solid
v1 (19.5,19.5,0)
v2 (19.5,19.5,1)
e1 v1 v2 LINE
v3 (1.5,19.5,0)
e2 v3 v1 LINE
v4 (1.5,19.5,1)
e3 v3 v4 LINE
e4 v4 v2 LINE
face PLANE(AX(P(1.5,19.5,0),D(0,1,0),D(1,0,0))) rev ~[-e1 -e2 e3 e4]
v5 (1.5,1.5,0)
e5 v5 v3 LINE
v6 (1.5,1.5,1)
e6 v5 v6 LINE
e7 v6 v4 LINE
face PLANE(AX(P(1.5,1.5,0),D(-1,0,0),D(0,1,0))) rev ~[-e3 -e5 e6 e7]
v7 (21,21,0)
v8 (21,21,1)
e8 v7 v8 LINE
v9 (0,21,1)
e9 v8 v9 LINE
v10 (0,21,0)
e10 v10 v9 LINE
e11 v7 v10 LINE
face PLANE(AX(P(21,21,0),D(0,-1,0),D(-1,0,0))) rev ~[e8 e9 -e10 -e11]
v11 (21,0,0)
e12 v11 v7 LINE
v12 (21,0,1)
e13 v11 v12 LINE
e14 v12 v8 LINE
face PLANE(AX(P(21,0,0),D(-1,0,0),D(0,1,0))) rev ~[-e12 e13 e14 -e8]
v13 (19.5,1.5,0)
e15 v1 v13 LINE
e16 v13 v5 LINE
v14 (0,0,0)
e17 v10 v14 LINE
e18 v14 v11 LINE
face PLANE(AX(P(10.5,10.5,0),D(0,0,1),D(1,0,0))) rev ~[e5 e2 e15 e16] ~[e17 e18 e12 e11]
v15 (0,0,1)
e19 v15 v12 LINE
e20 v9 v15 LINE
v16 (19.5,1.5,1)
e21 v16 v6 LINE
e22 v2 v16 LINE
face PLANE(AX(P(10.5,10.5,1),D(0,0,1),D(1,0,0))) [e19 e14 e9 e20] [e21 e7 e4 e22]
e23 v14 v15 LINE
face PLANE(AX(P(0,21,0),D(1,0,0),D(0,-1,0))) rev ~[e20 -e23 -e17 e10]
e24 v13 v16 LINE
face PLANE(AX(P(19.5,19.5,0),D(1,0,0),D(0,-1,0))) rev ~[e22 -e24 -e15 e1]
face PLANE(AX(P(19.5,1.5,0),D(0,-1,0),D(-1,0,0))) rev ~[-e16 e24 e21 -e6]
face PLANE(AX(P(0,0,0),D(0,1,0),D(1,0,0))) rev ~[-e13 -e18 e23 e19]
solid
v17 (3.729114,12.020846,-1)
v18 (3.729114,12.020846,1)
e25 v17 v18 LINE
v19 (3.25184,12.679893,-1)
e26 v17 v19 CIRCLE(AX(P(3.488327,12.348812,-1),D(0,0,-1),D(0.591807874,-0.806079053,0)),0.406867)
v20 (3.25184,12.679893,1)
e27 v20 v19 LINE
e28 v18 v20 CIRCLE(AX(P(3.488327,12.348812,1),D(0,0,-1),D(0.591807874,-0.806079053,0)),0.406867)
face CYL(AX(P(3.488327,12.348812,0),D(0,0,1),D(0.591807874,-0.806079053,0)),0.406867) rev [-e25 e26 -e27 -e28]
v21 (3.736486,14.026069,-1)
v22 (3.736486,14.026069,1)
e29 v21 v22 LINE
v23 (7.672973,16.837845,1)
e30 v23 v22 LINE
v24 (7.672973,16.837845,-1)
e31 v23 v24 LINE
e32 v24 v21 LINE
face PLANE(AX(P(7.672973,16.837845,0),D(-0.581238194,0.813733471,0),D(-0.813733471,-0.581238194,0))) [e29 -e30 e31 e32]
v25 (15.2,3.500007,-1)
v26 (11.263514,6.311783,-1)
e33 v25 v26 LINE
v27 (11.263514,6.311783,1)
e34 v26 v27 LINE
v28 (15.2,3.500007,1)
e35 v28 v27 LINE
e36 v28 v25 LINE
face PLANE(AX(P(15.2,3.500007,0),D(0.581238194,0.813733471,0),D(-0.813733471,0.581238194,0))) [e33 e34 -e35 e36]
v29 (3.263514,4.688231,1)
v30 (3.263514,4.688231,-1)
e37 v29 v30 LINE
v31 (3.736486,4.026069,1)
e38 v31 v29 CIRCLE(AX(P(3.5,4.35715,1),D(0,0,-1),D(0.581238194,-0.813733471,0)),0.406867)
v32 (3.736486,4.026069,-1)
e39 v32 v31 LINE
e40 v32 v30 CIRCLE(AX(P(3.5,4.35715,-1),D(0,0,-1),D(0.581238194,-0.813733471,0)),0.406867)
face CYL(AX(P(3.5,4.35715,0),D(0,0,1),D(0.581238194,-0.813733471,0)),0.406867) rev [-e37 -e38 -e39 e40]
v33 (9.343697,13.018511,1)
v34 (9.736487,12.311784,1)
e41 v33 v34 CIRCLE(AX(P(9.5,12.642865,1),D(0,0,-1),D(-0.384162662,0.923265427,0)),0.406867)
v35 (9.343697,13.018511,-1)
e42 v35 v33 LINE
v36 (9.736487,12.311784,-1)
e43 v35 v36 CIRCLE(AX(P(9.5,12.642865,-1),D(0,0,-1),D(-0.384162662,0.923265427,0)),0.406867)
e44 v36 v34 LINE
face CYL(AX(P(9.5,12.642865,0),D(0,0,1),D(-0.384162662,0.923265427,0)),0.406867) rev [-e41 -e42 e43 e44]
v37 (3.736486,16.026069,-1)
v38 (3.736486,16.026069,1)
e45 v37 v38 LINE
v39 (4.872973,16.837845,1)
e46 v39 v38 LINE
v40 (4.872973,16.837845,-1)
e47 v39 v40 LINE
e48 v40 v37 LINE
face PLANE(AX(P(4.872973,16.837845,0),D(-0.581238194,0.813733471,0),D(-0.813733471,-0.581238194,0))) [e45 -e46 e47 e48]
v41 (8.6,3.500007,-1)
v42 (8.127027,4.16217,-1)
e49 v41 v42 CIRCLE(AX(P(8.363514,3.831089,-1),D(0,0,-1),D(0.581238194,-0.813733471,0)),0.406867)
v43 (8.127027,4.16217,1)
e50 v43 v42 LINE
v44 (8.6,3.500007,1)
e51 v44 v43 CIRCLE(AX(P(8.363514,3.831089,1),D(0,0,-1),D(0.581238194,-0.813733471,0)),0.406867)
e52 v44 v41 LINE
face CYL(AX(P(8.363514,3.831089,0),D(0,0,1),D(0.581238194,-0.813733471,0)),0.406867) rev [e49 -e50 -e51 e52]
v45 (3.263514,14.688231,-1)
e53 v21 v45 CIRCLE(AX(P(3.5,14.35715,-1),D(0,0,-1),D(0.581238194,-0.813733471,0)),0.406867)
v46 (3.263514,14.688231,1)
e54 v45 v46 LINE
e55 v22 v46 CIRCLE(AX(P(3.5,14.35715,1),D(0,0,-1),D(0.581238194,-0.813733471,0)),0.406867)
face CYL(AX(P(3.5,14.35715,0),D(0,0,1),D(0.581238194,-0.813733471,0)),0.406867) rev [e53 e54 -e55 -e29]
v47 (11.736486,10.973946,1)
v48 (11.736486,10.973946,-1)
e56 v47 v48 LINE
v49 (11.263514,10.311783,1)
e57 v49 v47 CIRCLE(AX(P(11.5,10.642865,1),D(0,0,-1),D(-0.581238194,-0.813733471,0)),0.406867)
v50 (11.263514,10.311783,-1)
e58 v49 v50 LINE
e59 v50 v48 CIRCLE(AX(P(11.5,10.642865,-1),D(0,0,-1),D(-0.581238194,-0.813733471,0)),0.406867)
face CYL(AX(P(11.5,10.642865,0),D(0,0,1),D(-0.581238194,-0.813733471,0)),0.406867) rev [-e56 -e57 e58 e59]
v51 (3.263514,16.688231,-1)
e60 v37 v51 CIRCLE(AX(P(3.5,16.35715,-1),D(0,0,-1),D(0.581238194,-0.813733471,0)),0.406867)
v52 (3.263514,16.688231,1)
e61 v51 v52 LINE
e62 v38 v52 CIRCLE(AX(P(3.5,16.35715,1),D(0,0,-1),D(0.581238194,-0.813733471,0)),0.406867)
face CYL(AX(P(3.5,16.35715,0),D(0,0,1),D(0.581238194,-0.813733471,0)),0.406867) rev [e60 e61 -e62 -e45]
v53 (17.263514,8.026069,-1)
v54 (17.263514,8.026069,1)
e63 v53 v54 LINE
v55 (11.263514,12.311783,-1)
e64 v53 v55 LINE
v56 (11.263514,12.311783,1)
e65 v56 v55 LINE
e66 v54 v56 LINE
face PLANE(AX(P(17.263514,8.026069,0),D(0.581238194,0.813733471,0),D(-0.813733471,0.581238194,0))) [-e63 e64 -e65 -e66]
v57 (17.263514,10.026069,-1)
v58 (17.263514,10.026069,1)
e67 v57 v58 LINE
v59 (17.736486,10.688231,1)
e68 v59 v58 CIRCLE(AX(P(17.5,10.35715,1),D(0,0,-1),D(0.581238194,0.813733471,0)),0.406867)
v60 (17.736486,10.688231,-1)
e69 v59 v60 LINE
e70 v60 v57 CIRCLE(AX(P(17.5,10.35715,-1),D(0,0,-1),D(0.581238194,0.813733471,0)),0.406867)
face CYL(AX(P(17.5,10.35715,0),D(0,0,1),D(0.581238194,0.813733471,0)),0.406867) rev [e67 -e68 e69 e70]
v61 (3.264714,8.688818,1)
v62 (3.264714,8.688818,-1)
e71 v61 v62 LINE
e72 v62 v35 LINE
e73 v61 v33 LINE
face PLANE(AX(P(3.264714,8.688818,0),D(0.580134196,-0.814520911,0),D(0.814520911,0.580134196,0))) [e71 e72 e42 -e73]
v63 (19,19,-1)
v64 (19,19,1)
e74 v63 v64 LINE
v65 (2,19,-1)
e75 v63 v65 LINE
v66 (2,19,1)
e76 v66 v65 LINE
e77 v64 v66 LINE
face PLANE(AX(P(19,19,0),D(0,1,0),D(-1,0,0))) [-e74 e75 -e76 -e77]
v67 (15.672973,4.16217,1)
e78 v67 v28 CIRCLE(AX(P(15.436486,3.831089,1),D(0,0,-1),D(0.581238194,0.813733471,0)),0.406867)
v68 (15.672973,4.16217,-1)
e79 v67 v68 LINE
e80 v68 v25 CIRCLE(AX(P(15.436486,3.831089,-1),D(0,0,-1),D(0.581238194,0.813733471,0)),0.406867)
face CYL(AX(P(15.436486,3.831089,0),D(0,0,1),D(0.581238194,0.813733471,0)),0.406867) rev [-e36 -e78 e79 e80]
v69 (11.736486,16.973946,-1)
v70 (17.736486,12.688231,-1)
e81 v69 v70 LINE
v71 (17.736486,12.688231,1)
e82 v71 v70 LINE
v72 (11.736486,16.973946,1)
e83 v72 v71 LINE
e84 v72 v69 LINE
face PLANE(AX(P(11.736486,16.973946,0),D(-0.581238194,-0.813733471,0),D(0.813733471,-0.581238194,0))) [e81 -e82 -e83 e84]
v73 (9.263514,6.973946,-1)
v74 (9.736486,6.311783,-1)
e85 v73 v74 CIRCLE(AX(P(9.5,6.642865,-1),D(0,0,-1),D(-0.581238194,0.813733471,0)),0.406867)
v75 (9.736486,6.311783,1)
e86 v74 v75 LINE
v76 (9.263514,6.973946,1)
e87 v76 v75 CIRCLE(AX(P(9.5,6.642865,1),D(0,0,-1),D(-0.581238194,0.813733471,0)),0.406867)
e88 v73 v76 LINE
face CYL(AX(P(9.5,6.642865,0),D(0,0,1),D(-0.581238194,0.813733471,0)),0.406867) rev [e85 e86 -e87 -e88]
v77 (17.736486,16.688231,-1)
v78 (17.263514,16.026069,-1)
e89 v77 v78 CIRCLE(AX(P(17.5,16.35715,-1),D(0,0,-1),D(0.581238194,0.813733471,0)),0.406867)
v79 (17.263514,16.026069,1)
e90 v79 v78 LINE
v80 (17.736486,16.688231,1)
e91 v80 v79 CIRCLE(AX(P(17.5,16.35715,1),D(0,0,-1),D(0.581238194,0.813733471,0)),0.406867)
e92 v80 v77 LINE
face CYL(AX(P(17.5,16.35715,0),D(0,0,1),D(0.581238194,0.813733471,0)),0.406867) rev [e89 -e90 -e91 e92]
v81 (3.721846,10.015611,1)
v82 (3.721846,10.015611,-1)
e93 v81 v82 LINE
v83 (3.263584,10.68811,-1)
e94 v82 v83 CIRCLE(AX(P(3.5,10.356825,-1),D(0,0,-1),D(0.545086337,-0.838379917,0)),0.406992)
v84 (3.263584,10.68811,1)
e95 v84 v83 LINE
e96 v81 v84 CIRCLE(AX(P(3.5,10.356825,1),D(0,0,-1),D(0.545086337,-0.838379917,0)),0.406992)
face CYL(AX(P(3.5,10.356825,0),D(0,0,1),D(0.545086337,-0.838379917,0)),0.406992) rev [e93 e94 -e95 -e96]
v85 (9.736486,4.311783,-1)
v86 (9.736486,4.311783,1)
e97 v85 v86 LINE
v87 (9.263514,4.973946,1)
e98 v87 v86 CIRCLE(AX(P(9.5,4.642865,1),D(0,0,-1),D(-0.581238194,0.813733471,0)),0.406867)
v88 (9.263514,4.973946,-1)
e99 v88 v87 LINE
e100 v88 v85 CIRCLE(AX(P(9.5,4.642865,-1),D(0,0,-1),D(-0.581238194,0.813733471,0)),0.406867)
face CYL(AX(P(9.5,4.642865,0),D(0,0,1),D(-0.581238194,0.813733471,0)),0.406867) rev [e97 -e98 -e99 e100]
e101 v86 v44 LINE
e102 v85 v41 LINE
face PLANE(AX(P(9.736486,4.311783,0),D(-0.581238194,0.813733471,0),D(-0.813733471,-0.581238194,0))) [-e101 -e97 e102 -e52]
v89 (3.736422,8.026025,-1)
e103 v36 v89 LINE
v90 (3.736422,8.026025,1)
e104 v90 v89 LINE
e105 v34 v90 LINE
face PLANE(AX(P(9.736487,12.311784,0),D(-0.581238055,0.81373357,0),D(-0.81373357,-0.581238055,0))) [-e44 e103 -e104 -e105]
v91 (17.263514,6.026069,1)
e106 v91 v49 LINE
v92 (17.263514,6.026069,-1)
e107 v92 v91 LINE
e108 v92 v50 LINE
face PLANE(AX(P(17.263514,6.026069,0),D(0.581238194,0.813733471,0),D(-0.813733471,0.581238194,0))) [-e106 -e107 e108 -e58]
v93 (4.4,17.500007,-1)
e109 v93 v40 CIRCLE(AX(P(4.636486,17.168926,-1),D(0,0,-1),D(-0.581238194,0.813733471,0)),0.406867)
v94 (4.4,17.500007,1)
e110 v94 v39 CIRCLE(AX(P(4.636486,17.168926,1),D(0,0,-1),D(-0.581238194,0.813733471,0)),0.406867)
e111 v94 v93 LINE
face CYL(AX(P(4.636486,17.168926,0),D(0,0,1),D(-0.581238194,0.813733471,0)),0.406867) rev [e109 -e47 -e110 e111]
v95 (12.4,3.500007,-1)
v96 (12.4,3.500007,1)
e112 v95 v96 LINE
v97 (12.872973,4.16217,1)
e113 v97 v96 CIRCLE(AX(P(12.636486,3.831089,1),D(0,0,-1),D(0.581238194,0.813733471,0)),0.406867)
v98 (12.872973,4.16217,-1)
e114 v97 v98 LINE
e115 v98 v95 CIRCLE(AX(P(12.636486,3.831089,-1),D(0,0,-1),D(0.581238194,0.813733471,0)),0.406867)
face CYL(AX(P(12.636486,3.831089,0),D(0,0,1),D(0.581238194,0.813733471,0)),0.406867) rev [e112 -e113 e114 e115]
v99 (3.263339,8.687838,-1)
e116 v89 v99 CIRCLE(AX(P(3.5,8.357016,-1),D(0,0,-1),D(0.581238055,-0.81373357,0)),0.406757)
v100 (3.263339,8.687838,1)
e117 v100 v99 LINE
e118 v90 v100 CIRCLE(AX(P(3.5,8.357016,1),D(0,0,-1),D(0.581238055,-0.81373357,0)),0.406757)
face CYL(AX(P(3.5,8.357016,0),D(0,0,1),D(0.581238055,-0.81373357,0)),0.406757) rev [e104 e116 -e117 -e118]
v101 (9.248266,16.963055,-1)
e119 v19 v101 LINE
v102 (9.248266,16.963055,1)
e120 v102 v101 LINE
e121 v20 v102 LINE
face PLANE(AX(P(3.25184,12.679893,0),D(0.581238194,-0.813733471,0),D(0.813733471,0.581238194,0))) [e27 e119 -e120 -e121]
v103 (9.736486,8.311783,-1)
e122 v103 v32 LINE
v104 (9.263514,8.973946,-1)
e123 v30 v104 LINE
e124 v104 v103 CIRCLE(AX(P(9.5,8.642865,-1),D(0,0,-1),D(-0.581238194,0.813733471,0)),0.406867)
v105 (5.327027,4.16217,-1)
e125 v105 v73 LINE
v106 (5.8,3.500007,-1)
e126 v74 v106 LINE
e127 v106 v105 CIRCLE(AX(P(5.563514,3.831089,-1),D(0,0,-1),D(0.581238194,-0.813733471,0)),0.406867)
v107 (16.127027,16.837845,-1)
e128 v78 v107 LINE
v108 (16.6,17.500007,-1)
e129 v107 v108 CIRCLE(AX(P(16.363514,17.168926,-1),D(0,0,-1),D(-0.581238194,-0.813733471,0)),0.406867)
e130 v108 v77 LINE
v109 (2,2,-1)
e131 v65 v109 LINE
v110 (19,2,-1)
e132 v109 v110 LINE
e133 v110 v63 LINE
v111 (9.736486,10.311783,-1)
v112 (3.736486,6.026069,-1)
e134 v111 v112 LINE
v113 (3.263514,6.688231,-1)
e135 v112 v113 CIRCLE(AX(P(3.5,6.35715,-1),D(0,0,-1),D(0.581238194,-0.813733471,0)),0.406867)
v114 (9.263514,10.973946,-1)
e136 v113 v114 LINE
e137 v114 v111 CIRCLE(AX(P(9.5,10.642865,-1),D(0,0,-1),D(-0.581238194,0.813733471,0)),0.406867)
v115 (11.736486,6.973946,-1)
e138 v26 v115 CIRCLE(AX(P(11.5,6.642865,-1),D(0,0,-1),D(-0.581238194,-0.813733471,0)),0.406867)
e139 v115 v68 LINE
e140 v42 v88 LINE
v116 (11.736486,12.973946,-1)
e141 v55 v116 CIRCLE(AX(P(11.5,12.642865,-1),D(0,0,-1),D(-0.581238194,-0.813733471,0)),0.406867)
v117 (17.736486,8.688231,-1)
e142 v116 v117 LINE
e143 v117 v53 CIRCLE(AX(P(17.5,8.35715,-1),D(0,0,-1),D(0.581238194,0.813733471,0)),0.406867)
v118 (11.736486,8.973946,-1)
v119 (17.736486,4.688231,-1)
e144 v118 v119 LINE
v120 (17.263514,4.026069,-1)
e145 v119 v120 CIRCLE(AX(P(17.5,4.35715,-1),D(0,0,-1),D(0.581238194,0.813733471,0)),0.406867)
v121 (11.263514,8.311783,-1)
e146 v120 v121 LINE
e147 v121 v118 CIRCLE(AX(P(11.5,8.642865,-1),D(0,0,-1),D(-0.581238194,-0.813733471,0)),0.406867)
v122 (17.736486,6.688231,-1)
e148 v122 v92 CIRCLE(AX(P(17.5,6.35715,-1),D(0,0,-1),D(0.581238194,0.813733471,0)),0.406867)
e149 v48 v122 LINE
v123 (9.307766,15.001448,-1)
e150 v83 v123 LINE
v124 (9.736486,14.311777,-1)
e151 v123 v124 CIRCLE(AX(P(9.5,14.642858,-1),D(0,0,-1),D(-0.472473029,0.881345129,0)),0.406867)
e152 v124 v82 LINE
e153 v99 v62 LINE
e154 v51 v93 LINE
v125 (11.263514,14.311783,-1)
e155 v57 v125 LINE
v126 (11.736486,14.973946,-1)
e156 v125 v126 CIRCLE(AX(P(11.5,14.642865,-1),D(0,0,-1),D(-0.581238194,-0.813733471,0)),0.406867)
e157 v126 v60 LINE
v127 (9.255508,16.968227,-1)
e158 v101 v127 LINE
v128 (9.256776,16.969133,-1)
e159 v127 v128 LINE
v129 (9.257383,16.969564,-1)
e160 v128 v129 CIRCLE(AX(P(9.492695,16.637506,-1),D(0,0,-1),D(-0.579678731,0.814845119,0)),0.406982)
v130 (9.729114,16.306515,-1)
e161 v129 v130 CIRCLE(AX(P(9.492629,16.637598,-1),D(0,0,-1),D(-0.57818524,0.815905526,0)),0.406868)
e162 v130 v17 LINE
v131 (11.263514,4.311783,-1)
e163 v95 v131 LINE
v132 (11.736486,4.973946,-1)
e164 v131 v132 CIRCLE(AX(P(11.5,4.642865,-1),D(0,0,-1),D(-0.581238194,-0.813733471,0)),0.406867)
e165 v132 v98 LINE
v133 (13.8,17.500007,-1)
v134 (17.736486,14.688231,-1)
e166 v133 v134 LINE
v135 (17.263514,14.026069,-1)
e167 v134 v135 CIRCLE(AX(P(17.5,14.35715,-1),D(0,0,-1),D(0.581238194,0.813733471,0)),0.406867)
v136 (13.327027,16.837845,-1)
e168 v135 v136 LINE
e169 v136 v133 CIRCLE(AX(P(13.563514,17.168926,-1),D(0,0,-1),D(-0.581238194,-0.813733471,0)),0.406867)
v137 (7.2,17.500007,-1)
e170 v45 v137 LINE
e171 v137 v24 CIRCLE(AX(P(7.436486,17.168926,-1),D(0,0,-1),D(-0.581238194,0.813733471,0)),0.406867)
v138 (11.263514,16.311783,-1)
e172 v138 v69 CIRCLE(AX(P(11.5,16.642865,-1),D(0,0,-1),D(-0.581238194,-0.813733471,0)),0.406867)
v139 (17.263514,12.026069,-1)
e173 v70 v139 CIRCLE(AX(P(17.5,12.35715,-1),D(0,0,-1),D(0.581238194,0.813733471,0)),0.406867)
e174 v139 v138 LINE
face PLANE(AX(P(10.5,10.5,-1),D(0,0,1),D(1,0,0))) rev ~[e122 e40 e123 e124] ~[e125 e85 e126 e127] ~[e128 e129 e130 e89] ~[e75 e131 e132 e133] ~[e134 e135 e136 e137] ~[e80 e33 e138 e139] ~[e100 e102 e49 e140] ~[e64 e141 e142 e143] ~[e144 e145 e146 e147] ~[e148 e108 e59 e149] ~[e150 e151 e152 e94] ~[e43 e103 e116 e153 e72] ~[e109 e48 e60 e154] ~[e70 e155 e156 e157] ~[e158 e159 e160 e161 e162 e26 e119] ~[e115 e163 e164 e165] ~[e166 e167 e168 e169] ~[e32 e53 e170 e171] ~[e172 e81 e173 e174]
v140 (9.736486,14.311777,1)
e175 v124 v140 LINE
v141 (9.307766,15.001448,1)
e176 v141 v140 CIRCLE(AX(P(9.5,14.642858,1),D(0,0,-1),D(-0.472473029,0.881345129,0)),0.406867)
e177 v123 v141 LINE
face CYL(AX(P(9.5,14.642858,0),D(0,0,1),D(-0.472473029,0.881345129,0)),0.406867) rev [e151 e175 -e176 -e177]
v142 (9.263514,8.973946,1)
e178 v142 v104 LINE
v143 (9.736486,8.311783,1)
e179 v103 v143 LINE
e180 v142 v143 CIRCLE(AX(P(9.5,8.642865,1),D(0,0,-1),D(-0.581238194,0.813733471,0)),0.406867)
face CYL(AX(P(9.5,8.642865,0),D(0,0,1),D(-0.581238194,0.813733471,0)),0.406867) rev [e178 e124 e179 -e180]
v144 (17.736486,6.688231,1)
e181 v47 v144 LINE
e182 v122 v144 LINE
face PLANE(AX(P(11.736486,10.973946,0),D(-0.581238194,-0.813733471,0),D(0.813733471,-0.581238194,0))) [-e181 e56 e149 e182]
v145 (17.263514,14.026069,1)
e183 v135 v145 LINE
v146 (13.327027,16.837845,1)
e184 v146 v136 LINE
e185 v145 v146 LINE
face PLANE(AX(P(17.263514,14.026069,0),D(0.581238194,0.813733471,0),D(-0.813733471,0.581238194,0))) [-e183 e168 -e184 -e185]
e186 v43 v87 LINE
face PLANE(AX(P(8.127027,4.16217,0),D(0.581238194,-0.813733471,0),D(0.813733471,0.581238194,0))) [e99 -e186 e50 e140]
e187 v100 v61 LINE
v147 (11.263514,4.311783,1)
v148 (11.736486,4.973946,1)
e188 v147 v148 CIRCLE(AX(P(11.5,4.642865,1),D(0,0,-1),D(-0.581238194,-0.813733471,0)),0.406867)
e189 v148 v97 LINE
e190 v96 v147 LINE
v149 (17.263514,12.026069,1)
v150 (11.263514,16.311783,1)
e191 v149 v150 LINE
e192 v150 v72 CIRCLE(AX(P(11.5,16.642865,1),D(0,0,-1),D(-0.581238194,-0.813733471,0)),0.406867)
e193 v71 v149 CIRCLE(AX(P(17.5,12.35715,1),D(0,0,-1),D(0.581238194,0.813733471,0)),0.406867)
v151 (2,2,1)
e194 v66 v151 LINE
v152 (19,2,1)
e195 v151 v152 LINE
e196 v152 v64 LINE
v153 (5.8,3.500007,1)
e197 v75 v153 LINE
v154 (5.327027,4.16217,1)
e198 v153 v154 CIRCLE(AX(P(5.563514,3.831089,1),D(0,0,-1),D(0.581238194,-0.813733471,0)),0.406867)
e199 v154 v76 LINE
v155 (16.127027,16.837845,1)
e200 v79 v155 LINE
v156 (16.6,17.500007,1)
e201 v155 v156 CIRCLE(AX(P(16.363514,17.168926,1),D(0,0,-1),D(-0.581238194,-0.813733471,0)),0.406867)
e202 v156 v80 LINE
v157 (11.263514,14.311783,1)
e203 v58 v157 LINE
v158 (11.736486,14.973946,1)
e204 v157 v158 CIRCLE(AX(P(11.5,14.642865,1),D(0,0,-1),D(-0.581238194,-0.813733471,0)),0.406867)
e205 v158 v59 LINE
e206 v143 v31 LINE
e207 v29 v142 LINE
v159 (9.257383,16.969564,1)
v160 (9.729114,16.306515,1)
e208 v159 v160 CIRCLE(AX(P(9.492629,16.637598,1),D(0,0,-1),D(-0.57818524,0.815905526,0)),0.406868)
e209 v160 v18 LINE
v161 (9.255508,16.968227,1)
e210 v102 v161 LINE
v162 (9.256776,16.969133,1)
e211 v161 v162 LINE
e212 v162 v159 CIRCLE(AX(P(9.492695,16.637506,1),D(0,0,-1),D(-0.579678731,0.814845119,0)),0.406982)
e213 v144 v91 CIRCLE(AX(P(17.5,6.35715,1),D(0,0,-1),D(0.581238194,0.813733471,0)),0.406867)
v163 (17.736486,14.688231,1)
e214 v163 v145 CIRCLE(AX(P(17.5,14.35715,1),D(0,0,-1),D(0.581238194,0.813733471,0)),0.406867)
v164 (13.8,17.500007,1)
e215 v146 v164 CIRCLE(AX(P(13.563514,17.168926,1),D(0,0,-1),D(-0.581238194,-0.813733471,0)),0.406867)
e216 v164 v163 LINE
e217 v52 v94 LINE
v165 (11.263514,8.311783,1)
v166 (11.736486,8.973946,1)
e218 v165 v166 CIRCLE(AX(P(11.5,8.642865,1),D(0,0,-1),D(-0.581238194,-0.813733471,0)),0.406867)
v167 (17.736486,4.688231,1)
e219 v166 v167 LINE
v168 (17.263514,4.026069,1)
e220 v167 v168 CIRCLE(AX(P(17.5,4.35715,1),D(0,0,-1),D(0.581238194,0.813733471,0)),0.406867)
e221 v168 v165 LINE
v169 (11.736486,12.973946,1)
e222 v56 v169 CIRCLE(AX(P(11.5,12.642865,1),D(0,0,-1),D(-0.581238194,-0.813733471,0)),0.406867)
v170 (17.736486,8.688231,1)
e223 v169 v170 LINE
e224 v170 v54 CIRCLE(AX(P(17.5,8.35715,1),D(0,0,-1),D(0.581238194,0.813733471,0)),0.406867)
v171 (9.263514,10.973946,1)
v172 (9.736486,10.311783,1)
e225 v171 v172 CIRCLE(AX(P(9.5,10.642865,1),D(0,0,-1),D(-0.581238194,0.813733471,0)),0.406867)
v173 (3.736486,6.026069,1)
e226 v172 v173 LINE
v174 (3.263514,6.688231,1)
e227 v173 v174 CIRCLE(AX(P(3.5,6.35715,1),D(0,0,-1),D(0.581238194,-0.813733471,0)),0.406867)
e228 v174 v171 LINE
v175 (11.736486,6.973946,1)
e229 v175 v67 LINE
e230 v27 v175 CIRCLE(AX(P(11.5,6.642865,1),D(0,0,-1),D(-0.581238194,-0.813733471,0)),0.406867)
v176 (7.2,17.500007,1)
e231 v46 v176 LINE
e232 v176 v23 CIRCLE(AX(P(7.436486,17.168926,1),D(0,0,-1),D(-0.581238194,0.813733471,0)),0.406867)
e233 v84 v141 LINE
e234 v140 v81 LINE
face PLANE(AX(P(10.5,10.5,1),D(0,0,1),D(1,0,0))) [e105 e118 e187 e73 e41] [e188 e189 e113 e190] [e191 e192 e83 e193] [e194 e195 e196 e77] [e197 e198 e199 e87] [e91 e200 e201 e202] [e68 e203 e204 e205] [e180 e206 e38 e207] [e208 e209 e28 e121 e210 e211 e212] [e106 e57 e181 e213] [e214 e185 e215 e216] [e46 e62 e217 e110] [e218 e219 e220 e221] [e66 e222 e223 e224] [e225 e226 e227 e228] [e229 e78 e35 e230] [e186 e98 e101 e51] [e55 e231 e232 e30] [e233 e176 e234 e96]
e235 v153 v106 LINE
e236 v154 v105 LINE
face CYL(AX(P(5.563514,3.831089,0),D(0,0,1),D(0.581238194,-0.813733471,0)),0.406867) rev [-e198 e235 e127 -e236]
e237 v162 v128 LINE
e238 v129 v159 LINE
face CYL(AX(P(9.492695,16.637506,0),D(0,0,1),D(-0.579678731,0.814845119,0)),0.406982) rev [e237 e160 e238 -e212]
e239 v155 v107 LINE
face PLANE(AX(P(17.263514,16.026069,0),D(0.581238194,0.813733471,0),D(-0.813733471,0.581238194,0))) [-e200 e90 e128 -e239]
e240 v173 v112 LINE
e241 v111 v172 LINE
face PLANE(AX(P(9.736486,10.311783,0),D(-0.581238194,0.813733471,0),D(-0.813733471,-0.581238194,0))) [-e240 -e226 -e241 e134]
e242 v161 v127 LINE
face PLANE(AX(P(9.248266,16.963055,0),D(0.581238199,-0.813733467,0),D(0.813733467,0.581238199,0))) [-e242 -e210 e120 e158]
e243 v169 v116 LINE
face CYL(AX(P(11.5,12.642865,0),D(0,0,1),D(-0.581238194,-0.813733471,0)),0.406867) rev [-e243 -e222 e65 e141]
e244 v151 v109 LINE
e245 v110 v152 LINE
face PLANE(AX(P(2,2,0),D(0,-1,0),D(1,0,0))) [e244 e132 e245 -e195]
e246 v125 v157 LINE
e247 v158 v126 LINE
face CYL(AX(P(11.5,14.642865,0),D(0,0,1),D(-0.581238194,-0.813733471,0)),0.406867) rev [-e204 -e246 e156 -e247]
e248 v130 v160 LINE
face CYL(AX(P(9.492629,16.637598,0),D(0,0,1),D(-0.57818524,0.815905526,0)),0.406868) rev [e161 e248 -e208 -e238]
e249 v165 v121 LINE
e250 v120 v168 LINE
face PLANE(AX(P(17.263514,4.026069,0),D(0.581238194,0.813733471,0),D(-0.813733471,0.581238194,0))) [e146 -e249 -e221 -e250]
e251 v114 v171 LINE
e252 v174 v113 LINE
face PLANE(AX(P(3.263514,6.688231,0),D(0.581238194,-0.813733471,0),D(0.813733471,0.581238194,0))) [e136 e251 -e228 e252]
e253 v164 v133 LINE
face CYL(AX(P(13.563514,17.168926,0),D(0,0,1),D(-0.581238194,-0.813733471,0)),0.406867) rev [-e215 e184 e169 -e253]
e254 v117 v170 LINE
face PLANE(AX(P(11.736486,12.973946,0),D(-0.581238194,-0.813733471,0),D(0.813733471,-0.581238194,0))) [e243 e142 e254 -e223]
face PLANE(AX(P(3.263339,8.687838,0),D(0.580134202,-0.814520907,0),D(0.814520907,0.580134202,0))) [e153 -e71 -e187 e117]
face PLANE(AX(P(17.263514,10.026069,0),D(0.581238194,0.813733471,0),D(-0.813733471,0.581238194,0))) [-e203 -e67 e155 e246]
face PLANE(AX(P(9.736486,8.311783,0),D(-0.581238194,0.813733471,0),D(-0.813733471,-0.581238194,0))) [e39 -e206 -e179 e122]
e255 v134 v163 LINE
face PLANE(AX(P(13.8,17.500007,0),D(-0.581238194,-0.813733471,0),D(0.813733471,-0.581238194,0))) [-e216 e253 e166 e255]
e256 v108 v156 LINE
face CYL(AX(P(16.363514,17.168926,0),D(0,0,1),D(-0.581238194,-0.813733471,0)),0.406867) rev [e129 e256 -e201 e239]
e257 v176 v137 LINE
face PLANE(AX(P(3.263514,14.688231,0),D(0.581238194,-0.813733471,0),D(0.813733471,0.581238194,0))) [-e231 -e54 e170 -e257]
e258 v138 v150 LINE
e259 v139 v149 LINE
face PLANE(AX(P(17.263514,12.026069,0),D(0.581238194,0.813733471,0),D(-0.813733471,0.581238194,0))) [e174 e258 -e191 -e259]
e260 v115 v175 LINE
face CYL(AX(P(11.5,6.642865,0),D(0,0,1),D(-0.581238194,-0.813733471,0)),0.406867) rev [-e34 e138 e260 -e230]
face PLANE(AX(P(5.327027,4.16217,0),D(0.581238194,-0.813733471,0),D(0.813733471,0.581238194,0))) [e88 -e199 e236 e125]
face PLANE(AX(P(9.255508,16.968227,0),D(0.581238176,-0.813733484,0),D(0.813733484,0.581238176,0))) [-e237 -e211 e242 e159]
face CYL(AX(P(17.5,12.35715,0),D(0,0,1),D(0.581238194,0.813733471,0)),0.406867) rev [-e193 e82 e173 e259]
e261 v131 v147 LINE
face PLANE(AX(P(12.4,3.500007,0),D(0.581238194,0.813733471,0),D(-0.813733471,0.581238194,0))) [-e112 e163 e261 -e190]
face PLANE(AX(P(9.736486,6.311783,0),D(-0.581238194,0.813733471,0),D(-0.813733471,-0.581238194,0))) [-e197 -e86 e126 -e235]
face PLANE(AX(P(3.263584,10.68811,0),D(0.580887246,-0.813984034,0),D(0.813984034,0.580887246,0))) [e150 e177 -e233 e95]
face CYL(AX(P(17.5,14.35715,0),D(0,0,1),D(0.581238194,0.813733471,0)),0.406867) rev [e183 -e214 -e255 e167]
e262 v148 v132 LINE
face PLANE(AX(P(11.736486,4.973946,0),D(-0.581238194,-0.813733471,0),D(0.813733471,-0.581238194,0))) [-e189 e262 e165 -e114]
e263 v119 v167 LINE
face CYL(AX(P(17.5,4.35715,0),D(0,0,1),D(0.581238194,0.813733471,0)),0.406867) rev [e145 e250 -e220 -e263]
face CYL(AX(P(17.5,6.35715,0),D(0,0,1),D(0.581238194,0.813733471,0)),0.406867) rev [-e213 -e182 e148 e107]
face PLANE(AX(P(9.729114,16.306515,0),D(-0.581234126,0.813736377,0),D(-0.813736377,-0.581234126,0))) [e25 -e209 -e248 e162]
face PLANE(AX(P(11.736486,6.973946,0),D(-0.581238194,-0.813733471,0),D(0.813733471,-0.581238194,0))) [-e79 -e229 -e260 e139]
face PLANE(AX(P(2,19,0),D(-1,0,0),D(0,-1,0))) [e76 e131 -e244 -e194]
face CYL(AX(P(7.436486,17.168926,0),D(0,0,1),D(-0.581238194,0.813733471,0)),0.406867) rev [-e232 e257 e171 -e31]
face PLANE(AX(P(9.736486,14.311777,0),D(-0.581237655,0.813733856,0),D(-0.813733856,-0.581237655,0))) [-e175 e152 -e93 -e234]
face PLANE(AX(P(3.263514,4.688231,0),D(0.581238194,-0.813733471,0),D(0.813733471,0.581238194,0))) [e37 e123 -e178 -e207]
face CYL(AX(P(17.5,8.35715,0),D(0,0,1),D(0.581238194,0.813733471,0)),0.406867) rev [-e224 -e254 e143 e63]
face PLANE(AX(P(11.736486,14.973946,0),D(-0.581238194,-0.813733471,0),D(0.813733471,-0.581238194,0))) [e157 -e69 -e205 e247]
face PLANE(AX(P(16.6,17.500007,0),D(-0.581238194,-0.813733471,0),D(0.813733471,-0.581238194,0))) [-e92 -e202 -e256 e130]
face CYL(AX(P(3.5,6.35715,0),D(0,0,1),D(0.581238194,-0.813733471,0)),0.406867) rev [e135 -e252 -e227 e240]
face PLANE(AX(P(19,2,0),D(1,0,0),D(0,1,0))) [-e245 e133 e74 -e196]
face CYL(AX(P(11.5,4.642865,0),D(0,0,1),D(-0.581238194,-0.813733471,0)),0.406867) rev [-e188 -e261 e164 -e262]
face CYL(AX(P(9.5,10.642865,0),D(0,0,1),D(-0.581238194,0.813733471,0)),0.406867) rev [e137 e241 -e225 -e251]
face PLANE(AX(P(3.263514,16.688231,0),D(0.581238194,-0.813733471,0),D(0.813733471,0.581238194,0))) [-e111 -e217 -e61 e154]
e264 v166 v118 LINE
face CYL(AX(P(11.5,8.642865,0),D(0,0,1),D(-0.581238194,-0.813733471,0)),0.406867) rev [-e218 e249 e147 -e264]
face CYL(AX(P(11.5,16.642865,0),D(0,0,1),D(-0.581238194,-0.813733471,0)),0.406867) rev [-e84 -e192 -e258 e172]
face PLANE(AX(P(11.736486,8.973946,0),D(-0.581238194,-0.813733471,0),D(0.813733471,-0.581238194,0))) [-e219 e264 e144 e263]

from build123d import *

# Parameters (mm, degrees)
F1_DEPTH = 1
F2_DEPTH = 1


with BuildPart() as f1:
    # F0 (on Top) → F1 (new body)
    with BuildSketch(Plane.XY):
        Polygon((2, 3.5), (2, 2), (3, 2), (3.5, 2), (11, 2), (11.5, 2), (17.5, 2), (19, 2), (19, 19), (2, 19), align=None)
        with BuildLine():
            ThreePointArc((9.2635135135, 6.9739456513), (9.8310810811, 6.8793510567), (9.7364864865, 6.3117834892))
            Line((9.7364864865, 6.3117834892), (5.8, 3.5000074274))
            ThreePointArc((5.8, 3.5000074274), (5.2324324324, 3.594602022), (5.327027027, 4.1621695896))
            Line((5.327027027, 4.1621695896), (9.2635135135, 6.9739456513))
        make_face(mode=Mode.SUBTRACT)
        with BuildLine():
            ThreePointArc((9.2635135135, 4.9739456513), (9.8310810811, 4.8793510567), (9.7364864865, 4.3117834892))
            Line((9.7364864865, 4.3117834892), (8.6, 3.5000074274))
            ThreePointArc((8.6, 3.5000074274), (8.0324324324, 3.594602022), (8.127027027, 4.1621695896))
            Line((8.127027027, 4.1621695896), (9.2635135135, 4.9739456513))
        make_face(mode=Mode.SUBTRACT)
        with BuildLine():
            Line((9.7364864865, 8.3117834892), (3.7364864865, 4.0260692035))
            ThreePointArc((3.7364864865, 4.0260692035), (3.1689189189, 4.1206637981), (3.2635135135, 4.6882313656))
            Line((3.2635135135, 4.6882313656), (9.2635135135, 8.9739456513))
            ThreePointArc((9.2635135135, 8.9739456513), (9.8310810811, 8.8793510567), (9.7364864865, 8.3117834892))
        make_face(mode=Mode.SUBTRACT)
        with BuildLine():
            ThreePointArc((9.2635135135, 10.9739456513), (9.8310810811, 10.8793510567), (9.7364864865, 10.3117834892))
            Line((9.7364864865, 10.3117834892), (3.7364864865, 6.0260692035))
            ThreePointArc((3.7364864865, 6.0260692035), (3.1689189189, 6.1206637981), (3.2635135135, 6.6882313656))
            Line((3.2635135135, 6.6882313656), (9.2635135135, 10.9739456513))
        make_face(mode=Mode.SUBTRACT)
        with BuildLine():
            ThreePointArc((9.3436971033, 13.0185108947), (9.8556308423, 12.8405196013), (9.7364866156, 12.3117836493))
            Line((9.7364866156, 12.3117836493), (3.7364220661, 8.0260248025))
            ThreePointArc((3.7364220661, 8.0260248025), (3.169093087, 8.1204746996), (3.263338585, 8.6878376696))
            Line((3.263338585, 8.6878376696), (3.2647144726, 8.6888176315))
            Line((3.2647144726, 8.6888176315), (9.3436971033, 13.0185108947))
        make_face(mode=Mode.SUBTRACT)
        with BuildLine():
            Line((12.4, 3.5000074274), (11.2635135135, 4.3117834892))
            ThreePointArc((11.2635135135, 4.3117834892), (11.1689189189, 4.8793510567), (11.7364864865, 4.9739456513))
            Line((11.7364864865, 4.9739456513), (12.872972973, 4.1621695896))
            ThreePointArc((12.872972973, 4.1621695896), (12.9675675676, 3.594602022), (12.4, 3.5000074274))
        make_face(mode=Mode.SUBTRACT)
        with BuildLine():
            ThreePointArc((11.2635135135, 6.3117834892), (11.1689189189, 6.8793510567), (11.7364864865, 6.9739456513))
            Line((11.7364864865, 6.9739456513), (15.672972973, 4.1621695896))
            ThreePointArc((15.672972973, 4.1621695896), (15.7675675676, 3.594602022), (15.2, 3.5000074274))
            Line((15.2, 3.5000074274), (11.2635135135, 6.3117834892))
        make_face(mode=Mode.SUBTRACT)
        with BuildLine():
            ThreePointArc((17.7364864865, 4.6882313656), (17.8310810811, 4.1206637981), (17.2635135135, 4.0260692035))
            Line((17.2635135135, 4.0260692035), (11.2635135135, 8.3117834892))
            ThreePointArc((11.2635135135, 8.3117834892), (11.1689189189, 8.8793510567), (11.7364864865, 8.9739456513))
            Line((11.7364864865, 8.9739456513), (17.7364864865, 4.6882313656))
        make_face(mode=Mode.SUBTRACT)
        with BuildLine():
            ThreePointArc((17.7364864865, 6.6882313656), (17.8310810811, 6.1206637981), (17.2635135135, 6.0260692035))
            Line((17.2635135135, 6.0260692035), (11.2635135135, 10.3117834892))
            ThreePointArc((11.2635135135, 10.3117834892), (11.1689189189, 10.8793510567), (11.7364864865, 10.9739456513))
            Line((11.7364864865, 10.9739456513), (17.7364864865, 6.6882313656))
        make_face(mode=Mode.SUBTRACT)
        with BuildLine():
            ThreePointArc((9.3077662905, 15.0014482863), (9.845544905, 14.8576589276), (9.7364863481, 14.3117766609))
            Line((9.7364863481, 14.3117766609), (3.7218457879, 10.0156108405))
            ThreePointArc((3.7218457879, 10.0156108405), (3.1636716169, 10.127639869), (3.2635835281, 10.6881097775))
            Line((3.2635835281, 10.6881097775), (9.3077662905, 15.0014482863))
        make_face(mode=Mode.SUBTRACT)
        with BuildLine():
            ThreePointArc((9.2573834813, 16.9695644641), (9.8241540054, 16.8734642955), (9.7291143701, 16.3065149706))
            Line((9.7291143701, 16.3065149706), (3.7291139187, 12.0208456607))
            ThreePointArc((3.7291139187, 12.0208456607), (3.1587960485, 12.1101706211), (3.2518404943, 12.6798934948))
            Line((3.2518404943, 12.6798934948), (9.2482660176, 16.9630545828))
            Line((9.2482660176, 16.9630545828), (9.2555077667, 16.9682272608))
            Line((9.2555077667, 16.9682272608), (9.2567757637, 16.9691329729))
            ThreePointArc((9.2567757637, 16.9691329729), (9.2570795237, 16.9693488576), (9.2573834813, 16.9695644641))
        make_face(mode=Mode.SUBTRACT)
        with BuildLine():
            ThreePointArc((3.7364864865, 16.0260692035), (3.1689189189, 16.1206637981), (3.2635135135, 16.6882313656))
            Line((3.2635135135, 16.6882313656), (4.4, 17.5000074274))
            ThreePointArc((4.4, 17.5000074274), (4.9675675676, 17.4054128328), (4.872972973, 16.8378452652))
            Line((4.872972973, 16.8378452652), (3.7364864865, 16.0260692035))
        make_face(mode=Mode.SUBTRACT)
        with BuildLine():
            ThreePointArc((3.7364864865, 14.0260692035), (3.1689189189, 14.1206637981), (3.2635135135, 14.6882313656))
            Line((3.2635135135, 14.6882313656), (7.2, 17.5000074274))
            ThreePointArc((7.2, 17.5000074274), (7.7675675676, 17.4054128328), (7.672972973, 16.8378452652))
            Line((7.672972973, 16.8378452652), (3.7364864865, 14.0260692035))
        make_face(mode=Mode.SUBTRACT)
        with BuildLine():
            ThreePointArc((17.7364864865, 8.6882313656), (17.8310810811, 8.1206637981), (17.2635135135, 8.0260692035))
            Line((17.2635135135, 8.0260692035), (11.2635135135, 12.3117834892))
            ThreePointArc((11.2635135135, 12.3117834892), (11.1689189189, 12.8793510567), (11.7364864865, 12.9739456513))
            Line((11.7364864865, 12.9739456513), (17.7364864865, 8.6882313656))
        make_face(mode=Mode.SUBTRACT)
        with BuildLine():
            Line((17.2635135135, 10.0260692035), (11.2635135135, 14.3117834892))
            ThreePointArc((11.2635135135, 14.3117834892), (11.1689189189, 14.8793510567), (11.7364864865, 14.9739456513))
            Line((11.7364864865, 14.9739456513), (17.7364864865, 10.6882313656))
            ThreePointArc((17.7364864865, 10.6882313656), (17.8310810811, 10.1206637981), (17.2635135135, 10.0260692035))
        make_face(mode=Mode.SUBTRACT)
        with BuildLine():
            Line((17.2635135135, 12.0260692035), (11.2635135135, 16.3117834892))
            ThreePointArc((11.2635135135, 16.3117834892), (11.1689189189, 16.8793510567), (11.7364864865, 16.9739456513))
            Line((11.7364864865, 16.9739456513), (17.7364864865, 12.6882313656))
            ThreePointArc((17.7364864865, 12.6882313656), (17.8310810811, 12.1206637981), (17.2635135135, 12.0260692035))
        make_face(mode=Mode.SUBTRACT)
        with BuildLine():
            ThreePointArc((17.7364864865, 14.6882313656), (17.8310810811, 14.1206637981), (17.2635135135, 14.0260692035))
            Line((17.2635135135, 14.0260692035), (13.327027027, 16.8378452652))
            ThreePointArc((13.327027027, 16.8378452652), (13.2324324324, 17.4054128328), (13.8, 17.5000074274))
            Line((13.8, 17.5000074274), (17.7364864865, 14.6882313656))
        make_face(mode=Mode.SUBTRACT)
        with BuildLine():
            Line((16.6, 17.5000074274), (17.7364864865, 16.6882313656))
            ThreePointArc((17.7364864865, 16.6882313656), (17.8310810811, 16.1206637981), (17.2635135135, 16.0260692035))
            Line((17.2635135135, 16.0260692035), (16.127027027, 16.8378452652))
            ThreePointArc((16.127027027, 16.8378452652), (16.0324324324, 17.4054128328), (16.6, 17.5000074274))
        make_face(mode=Mode.SUBTRACT)
    extrude(amount=F1_DEPTH)

    # F2 (add): a face of the model
    f2_faces = [f1.faces().sort_by_distance(p)[0] for p in [
        (10.4995544489, 10.500531174, 0),
    ]]
    extrude(f2_faces, amount=F2_DEPTH)


with BuildPart() as f1b:
    # F0 (on Top) → F1, piece 2 (new body)
    with BuildSketch(Plane.XY):
        Polygon((0, 1.5), (0, 0), (1.5, 0), (21, 0), (21, 21), (0, 21), align=None)
        Polygon((2, 1.5), (1.5, 1.5), (1.5, 2), (1.5, 19.5), (19.5, 19.5), (19.5, 1.5), align=None, mode=Mode.SUBTRACT)
    extrude(amount=F1_DEPTH)


solid = Compound([f1.part, f1b.part])
